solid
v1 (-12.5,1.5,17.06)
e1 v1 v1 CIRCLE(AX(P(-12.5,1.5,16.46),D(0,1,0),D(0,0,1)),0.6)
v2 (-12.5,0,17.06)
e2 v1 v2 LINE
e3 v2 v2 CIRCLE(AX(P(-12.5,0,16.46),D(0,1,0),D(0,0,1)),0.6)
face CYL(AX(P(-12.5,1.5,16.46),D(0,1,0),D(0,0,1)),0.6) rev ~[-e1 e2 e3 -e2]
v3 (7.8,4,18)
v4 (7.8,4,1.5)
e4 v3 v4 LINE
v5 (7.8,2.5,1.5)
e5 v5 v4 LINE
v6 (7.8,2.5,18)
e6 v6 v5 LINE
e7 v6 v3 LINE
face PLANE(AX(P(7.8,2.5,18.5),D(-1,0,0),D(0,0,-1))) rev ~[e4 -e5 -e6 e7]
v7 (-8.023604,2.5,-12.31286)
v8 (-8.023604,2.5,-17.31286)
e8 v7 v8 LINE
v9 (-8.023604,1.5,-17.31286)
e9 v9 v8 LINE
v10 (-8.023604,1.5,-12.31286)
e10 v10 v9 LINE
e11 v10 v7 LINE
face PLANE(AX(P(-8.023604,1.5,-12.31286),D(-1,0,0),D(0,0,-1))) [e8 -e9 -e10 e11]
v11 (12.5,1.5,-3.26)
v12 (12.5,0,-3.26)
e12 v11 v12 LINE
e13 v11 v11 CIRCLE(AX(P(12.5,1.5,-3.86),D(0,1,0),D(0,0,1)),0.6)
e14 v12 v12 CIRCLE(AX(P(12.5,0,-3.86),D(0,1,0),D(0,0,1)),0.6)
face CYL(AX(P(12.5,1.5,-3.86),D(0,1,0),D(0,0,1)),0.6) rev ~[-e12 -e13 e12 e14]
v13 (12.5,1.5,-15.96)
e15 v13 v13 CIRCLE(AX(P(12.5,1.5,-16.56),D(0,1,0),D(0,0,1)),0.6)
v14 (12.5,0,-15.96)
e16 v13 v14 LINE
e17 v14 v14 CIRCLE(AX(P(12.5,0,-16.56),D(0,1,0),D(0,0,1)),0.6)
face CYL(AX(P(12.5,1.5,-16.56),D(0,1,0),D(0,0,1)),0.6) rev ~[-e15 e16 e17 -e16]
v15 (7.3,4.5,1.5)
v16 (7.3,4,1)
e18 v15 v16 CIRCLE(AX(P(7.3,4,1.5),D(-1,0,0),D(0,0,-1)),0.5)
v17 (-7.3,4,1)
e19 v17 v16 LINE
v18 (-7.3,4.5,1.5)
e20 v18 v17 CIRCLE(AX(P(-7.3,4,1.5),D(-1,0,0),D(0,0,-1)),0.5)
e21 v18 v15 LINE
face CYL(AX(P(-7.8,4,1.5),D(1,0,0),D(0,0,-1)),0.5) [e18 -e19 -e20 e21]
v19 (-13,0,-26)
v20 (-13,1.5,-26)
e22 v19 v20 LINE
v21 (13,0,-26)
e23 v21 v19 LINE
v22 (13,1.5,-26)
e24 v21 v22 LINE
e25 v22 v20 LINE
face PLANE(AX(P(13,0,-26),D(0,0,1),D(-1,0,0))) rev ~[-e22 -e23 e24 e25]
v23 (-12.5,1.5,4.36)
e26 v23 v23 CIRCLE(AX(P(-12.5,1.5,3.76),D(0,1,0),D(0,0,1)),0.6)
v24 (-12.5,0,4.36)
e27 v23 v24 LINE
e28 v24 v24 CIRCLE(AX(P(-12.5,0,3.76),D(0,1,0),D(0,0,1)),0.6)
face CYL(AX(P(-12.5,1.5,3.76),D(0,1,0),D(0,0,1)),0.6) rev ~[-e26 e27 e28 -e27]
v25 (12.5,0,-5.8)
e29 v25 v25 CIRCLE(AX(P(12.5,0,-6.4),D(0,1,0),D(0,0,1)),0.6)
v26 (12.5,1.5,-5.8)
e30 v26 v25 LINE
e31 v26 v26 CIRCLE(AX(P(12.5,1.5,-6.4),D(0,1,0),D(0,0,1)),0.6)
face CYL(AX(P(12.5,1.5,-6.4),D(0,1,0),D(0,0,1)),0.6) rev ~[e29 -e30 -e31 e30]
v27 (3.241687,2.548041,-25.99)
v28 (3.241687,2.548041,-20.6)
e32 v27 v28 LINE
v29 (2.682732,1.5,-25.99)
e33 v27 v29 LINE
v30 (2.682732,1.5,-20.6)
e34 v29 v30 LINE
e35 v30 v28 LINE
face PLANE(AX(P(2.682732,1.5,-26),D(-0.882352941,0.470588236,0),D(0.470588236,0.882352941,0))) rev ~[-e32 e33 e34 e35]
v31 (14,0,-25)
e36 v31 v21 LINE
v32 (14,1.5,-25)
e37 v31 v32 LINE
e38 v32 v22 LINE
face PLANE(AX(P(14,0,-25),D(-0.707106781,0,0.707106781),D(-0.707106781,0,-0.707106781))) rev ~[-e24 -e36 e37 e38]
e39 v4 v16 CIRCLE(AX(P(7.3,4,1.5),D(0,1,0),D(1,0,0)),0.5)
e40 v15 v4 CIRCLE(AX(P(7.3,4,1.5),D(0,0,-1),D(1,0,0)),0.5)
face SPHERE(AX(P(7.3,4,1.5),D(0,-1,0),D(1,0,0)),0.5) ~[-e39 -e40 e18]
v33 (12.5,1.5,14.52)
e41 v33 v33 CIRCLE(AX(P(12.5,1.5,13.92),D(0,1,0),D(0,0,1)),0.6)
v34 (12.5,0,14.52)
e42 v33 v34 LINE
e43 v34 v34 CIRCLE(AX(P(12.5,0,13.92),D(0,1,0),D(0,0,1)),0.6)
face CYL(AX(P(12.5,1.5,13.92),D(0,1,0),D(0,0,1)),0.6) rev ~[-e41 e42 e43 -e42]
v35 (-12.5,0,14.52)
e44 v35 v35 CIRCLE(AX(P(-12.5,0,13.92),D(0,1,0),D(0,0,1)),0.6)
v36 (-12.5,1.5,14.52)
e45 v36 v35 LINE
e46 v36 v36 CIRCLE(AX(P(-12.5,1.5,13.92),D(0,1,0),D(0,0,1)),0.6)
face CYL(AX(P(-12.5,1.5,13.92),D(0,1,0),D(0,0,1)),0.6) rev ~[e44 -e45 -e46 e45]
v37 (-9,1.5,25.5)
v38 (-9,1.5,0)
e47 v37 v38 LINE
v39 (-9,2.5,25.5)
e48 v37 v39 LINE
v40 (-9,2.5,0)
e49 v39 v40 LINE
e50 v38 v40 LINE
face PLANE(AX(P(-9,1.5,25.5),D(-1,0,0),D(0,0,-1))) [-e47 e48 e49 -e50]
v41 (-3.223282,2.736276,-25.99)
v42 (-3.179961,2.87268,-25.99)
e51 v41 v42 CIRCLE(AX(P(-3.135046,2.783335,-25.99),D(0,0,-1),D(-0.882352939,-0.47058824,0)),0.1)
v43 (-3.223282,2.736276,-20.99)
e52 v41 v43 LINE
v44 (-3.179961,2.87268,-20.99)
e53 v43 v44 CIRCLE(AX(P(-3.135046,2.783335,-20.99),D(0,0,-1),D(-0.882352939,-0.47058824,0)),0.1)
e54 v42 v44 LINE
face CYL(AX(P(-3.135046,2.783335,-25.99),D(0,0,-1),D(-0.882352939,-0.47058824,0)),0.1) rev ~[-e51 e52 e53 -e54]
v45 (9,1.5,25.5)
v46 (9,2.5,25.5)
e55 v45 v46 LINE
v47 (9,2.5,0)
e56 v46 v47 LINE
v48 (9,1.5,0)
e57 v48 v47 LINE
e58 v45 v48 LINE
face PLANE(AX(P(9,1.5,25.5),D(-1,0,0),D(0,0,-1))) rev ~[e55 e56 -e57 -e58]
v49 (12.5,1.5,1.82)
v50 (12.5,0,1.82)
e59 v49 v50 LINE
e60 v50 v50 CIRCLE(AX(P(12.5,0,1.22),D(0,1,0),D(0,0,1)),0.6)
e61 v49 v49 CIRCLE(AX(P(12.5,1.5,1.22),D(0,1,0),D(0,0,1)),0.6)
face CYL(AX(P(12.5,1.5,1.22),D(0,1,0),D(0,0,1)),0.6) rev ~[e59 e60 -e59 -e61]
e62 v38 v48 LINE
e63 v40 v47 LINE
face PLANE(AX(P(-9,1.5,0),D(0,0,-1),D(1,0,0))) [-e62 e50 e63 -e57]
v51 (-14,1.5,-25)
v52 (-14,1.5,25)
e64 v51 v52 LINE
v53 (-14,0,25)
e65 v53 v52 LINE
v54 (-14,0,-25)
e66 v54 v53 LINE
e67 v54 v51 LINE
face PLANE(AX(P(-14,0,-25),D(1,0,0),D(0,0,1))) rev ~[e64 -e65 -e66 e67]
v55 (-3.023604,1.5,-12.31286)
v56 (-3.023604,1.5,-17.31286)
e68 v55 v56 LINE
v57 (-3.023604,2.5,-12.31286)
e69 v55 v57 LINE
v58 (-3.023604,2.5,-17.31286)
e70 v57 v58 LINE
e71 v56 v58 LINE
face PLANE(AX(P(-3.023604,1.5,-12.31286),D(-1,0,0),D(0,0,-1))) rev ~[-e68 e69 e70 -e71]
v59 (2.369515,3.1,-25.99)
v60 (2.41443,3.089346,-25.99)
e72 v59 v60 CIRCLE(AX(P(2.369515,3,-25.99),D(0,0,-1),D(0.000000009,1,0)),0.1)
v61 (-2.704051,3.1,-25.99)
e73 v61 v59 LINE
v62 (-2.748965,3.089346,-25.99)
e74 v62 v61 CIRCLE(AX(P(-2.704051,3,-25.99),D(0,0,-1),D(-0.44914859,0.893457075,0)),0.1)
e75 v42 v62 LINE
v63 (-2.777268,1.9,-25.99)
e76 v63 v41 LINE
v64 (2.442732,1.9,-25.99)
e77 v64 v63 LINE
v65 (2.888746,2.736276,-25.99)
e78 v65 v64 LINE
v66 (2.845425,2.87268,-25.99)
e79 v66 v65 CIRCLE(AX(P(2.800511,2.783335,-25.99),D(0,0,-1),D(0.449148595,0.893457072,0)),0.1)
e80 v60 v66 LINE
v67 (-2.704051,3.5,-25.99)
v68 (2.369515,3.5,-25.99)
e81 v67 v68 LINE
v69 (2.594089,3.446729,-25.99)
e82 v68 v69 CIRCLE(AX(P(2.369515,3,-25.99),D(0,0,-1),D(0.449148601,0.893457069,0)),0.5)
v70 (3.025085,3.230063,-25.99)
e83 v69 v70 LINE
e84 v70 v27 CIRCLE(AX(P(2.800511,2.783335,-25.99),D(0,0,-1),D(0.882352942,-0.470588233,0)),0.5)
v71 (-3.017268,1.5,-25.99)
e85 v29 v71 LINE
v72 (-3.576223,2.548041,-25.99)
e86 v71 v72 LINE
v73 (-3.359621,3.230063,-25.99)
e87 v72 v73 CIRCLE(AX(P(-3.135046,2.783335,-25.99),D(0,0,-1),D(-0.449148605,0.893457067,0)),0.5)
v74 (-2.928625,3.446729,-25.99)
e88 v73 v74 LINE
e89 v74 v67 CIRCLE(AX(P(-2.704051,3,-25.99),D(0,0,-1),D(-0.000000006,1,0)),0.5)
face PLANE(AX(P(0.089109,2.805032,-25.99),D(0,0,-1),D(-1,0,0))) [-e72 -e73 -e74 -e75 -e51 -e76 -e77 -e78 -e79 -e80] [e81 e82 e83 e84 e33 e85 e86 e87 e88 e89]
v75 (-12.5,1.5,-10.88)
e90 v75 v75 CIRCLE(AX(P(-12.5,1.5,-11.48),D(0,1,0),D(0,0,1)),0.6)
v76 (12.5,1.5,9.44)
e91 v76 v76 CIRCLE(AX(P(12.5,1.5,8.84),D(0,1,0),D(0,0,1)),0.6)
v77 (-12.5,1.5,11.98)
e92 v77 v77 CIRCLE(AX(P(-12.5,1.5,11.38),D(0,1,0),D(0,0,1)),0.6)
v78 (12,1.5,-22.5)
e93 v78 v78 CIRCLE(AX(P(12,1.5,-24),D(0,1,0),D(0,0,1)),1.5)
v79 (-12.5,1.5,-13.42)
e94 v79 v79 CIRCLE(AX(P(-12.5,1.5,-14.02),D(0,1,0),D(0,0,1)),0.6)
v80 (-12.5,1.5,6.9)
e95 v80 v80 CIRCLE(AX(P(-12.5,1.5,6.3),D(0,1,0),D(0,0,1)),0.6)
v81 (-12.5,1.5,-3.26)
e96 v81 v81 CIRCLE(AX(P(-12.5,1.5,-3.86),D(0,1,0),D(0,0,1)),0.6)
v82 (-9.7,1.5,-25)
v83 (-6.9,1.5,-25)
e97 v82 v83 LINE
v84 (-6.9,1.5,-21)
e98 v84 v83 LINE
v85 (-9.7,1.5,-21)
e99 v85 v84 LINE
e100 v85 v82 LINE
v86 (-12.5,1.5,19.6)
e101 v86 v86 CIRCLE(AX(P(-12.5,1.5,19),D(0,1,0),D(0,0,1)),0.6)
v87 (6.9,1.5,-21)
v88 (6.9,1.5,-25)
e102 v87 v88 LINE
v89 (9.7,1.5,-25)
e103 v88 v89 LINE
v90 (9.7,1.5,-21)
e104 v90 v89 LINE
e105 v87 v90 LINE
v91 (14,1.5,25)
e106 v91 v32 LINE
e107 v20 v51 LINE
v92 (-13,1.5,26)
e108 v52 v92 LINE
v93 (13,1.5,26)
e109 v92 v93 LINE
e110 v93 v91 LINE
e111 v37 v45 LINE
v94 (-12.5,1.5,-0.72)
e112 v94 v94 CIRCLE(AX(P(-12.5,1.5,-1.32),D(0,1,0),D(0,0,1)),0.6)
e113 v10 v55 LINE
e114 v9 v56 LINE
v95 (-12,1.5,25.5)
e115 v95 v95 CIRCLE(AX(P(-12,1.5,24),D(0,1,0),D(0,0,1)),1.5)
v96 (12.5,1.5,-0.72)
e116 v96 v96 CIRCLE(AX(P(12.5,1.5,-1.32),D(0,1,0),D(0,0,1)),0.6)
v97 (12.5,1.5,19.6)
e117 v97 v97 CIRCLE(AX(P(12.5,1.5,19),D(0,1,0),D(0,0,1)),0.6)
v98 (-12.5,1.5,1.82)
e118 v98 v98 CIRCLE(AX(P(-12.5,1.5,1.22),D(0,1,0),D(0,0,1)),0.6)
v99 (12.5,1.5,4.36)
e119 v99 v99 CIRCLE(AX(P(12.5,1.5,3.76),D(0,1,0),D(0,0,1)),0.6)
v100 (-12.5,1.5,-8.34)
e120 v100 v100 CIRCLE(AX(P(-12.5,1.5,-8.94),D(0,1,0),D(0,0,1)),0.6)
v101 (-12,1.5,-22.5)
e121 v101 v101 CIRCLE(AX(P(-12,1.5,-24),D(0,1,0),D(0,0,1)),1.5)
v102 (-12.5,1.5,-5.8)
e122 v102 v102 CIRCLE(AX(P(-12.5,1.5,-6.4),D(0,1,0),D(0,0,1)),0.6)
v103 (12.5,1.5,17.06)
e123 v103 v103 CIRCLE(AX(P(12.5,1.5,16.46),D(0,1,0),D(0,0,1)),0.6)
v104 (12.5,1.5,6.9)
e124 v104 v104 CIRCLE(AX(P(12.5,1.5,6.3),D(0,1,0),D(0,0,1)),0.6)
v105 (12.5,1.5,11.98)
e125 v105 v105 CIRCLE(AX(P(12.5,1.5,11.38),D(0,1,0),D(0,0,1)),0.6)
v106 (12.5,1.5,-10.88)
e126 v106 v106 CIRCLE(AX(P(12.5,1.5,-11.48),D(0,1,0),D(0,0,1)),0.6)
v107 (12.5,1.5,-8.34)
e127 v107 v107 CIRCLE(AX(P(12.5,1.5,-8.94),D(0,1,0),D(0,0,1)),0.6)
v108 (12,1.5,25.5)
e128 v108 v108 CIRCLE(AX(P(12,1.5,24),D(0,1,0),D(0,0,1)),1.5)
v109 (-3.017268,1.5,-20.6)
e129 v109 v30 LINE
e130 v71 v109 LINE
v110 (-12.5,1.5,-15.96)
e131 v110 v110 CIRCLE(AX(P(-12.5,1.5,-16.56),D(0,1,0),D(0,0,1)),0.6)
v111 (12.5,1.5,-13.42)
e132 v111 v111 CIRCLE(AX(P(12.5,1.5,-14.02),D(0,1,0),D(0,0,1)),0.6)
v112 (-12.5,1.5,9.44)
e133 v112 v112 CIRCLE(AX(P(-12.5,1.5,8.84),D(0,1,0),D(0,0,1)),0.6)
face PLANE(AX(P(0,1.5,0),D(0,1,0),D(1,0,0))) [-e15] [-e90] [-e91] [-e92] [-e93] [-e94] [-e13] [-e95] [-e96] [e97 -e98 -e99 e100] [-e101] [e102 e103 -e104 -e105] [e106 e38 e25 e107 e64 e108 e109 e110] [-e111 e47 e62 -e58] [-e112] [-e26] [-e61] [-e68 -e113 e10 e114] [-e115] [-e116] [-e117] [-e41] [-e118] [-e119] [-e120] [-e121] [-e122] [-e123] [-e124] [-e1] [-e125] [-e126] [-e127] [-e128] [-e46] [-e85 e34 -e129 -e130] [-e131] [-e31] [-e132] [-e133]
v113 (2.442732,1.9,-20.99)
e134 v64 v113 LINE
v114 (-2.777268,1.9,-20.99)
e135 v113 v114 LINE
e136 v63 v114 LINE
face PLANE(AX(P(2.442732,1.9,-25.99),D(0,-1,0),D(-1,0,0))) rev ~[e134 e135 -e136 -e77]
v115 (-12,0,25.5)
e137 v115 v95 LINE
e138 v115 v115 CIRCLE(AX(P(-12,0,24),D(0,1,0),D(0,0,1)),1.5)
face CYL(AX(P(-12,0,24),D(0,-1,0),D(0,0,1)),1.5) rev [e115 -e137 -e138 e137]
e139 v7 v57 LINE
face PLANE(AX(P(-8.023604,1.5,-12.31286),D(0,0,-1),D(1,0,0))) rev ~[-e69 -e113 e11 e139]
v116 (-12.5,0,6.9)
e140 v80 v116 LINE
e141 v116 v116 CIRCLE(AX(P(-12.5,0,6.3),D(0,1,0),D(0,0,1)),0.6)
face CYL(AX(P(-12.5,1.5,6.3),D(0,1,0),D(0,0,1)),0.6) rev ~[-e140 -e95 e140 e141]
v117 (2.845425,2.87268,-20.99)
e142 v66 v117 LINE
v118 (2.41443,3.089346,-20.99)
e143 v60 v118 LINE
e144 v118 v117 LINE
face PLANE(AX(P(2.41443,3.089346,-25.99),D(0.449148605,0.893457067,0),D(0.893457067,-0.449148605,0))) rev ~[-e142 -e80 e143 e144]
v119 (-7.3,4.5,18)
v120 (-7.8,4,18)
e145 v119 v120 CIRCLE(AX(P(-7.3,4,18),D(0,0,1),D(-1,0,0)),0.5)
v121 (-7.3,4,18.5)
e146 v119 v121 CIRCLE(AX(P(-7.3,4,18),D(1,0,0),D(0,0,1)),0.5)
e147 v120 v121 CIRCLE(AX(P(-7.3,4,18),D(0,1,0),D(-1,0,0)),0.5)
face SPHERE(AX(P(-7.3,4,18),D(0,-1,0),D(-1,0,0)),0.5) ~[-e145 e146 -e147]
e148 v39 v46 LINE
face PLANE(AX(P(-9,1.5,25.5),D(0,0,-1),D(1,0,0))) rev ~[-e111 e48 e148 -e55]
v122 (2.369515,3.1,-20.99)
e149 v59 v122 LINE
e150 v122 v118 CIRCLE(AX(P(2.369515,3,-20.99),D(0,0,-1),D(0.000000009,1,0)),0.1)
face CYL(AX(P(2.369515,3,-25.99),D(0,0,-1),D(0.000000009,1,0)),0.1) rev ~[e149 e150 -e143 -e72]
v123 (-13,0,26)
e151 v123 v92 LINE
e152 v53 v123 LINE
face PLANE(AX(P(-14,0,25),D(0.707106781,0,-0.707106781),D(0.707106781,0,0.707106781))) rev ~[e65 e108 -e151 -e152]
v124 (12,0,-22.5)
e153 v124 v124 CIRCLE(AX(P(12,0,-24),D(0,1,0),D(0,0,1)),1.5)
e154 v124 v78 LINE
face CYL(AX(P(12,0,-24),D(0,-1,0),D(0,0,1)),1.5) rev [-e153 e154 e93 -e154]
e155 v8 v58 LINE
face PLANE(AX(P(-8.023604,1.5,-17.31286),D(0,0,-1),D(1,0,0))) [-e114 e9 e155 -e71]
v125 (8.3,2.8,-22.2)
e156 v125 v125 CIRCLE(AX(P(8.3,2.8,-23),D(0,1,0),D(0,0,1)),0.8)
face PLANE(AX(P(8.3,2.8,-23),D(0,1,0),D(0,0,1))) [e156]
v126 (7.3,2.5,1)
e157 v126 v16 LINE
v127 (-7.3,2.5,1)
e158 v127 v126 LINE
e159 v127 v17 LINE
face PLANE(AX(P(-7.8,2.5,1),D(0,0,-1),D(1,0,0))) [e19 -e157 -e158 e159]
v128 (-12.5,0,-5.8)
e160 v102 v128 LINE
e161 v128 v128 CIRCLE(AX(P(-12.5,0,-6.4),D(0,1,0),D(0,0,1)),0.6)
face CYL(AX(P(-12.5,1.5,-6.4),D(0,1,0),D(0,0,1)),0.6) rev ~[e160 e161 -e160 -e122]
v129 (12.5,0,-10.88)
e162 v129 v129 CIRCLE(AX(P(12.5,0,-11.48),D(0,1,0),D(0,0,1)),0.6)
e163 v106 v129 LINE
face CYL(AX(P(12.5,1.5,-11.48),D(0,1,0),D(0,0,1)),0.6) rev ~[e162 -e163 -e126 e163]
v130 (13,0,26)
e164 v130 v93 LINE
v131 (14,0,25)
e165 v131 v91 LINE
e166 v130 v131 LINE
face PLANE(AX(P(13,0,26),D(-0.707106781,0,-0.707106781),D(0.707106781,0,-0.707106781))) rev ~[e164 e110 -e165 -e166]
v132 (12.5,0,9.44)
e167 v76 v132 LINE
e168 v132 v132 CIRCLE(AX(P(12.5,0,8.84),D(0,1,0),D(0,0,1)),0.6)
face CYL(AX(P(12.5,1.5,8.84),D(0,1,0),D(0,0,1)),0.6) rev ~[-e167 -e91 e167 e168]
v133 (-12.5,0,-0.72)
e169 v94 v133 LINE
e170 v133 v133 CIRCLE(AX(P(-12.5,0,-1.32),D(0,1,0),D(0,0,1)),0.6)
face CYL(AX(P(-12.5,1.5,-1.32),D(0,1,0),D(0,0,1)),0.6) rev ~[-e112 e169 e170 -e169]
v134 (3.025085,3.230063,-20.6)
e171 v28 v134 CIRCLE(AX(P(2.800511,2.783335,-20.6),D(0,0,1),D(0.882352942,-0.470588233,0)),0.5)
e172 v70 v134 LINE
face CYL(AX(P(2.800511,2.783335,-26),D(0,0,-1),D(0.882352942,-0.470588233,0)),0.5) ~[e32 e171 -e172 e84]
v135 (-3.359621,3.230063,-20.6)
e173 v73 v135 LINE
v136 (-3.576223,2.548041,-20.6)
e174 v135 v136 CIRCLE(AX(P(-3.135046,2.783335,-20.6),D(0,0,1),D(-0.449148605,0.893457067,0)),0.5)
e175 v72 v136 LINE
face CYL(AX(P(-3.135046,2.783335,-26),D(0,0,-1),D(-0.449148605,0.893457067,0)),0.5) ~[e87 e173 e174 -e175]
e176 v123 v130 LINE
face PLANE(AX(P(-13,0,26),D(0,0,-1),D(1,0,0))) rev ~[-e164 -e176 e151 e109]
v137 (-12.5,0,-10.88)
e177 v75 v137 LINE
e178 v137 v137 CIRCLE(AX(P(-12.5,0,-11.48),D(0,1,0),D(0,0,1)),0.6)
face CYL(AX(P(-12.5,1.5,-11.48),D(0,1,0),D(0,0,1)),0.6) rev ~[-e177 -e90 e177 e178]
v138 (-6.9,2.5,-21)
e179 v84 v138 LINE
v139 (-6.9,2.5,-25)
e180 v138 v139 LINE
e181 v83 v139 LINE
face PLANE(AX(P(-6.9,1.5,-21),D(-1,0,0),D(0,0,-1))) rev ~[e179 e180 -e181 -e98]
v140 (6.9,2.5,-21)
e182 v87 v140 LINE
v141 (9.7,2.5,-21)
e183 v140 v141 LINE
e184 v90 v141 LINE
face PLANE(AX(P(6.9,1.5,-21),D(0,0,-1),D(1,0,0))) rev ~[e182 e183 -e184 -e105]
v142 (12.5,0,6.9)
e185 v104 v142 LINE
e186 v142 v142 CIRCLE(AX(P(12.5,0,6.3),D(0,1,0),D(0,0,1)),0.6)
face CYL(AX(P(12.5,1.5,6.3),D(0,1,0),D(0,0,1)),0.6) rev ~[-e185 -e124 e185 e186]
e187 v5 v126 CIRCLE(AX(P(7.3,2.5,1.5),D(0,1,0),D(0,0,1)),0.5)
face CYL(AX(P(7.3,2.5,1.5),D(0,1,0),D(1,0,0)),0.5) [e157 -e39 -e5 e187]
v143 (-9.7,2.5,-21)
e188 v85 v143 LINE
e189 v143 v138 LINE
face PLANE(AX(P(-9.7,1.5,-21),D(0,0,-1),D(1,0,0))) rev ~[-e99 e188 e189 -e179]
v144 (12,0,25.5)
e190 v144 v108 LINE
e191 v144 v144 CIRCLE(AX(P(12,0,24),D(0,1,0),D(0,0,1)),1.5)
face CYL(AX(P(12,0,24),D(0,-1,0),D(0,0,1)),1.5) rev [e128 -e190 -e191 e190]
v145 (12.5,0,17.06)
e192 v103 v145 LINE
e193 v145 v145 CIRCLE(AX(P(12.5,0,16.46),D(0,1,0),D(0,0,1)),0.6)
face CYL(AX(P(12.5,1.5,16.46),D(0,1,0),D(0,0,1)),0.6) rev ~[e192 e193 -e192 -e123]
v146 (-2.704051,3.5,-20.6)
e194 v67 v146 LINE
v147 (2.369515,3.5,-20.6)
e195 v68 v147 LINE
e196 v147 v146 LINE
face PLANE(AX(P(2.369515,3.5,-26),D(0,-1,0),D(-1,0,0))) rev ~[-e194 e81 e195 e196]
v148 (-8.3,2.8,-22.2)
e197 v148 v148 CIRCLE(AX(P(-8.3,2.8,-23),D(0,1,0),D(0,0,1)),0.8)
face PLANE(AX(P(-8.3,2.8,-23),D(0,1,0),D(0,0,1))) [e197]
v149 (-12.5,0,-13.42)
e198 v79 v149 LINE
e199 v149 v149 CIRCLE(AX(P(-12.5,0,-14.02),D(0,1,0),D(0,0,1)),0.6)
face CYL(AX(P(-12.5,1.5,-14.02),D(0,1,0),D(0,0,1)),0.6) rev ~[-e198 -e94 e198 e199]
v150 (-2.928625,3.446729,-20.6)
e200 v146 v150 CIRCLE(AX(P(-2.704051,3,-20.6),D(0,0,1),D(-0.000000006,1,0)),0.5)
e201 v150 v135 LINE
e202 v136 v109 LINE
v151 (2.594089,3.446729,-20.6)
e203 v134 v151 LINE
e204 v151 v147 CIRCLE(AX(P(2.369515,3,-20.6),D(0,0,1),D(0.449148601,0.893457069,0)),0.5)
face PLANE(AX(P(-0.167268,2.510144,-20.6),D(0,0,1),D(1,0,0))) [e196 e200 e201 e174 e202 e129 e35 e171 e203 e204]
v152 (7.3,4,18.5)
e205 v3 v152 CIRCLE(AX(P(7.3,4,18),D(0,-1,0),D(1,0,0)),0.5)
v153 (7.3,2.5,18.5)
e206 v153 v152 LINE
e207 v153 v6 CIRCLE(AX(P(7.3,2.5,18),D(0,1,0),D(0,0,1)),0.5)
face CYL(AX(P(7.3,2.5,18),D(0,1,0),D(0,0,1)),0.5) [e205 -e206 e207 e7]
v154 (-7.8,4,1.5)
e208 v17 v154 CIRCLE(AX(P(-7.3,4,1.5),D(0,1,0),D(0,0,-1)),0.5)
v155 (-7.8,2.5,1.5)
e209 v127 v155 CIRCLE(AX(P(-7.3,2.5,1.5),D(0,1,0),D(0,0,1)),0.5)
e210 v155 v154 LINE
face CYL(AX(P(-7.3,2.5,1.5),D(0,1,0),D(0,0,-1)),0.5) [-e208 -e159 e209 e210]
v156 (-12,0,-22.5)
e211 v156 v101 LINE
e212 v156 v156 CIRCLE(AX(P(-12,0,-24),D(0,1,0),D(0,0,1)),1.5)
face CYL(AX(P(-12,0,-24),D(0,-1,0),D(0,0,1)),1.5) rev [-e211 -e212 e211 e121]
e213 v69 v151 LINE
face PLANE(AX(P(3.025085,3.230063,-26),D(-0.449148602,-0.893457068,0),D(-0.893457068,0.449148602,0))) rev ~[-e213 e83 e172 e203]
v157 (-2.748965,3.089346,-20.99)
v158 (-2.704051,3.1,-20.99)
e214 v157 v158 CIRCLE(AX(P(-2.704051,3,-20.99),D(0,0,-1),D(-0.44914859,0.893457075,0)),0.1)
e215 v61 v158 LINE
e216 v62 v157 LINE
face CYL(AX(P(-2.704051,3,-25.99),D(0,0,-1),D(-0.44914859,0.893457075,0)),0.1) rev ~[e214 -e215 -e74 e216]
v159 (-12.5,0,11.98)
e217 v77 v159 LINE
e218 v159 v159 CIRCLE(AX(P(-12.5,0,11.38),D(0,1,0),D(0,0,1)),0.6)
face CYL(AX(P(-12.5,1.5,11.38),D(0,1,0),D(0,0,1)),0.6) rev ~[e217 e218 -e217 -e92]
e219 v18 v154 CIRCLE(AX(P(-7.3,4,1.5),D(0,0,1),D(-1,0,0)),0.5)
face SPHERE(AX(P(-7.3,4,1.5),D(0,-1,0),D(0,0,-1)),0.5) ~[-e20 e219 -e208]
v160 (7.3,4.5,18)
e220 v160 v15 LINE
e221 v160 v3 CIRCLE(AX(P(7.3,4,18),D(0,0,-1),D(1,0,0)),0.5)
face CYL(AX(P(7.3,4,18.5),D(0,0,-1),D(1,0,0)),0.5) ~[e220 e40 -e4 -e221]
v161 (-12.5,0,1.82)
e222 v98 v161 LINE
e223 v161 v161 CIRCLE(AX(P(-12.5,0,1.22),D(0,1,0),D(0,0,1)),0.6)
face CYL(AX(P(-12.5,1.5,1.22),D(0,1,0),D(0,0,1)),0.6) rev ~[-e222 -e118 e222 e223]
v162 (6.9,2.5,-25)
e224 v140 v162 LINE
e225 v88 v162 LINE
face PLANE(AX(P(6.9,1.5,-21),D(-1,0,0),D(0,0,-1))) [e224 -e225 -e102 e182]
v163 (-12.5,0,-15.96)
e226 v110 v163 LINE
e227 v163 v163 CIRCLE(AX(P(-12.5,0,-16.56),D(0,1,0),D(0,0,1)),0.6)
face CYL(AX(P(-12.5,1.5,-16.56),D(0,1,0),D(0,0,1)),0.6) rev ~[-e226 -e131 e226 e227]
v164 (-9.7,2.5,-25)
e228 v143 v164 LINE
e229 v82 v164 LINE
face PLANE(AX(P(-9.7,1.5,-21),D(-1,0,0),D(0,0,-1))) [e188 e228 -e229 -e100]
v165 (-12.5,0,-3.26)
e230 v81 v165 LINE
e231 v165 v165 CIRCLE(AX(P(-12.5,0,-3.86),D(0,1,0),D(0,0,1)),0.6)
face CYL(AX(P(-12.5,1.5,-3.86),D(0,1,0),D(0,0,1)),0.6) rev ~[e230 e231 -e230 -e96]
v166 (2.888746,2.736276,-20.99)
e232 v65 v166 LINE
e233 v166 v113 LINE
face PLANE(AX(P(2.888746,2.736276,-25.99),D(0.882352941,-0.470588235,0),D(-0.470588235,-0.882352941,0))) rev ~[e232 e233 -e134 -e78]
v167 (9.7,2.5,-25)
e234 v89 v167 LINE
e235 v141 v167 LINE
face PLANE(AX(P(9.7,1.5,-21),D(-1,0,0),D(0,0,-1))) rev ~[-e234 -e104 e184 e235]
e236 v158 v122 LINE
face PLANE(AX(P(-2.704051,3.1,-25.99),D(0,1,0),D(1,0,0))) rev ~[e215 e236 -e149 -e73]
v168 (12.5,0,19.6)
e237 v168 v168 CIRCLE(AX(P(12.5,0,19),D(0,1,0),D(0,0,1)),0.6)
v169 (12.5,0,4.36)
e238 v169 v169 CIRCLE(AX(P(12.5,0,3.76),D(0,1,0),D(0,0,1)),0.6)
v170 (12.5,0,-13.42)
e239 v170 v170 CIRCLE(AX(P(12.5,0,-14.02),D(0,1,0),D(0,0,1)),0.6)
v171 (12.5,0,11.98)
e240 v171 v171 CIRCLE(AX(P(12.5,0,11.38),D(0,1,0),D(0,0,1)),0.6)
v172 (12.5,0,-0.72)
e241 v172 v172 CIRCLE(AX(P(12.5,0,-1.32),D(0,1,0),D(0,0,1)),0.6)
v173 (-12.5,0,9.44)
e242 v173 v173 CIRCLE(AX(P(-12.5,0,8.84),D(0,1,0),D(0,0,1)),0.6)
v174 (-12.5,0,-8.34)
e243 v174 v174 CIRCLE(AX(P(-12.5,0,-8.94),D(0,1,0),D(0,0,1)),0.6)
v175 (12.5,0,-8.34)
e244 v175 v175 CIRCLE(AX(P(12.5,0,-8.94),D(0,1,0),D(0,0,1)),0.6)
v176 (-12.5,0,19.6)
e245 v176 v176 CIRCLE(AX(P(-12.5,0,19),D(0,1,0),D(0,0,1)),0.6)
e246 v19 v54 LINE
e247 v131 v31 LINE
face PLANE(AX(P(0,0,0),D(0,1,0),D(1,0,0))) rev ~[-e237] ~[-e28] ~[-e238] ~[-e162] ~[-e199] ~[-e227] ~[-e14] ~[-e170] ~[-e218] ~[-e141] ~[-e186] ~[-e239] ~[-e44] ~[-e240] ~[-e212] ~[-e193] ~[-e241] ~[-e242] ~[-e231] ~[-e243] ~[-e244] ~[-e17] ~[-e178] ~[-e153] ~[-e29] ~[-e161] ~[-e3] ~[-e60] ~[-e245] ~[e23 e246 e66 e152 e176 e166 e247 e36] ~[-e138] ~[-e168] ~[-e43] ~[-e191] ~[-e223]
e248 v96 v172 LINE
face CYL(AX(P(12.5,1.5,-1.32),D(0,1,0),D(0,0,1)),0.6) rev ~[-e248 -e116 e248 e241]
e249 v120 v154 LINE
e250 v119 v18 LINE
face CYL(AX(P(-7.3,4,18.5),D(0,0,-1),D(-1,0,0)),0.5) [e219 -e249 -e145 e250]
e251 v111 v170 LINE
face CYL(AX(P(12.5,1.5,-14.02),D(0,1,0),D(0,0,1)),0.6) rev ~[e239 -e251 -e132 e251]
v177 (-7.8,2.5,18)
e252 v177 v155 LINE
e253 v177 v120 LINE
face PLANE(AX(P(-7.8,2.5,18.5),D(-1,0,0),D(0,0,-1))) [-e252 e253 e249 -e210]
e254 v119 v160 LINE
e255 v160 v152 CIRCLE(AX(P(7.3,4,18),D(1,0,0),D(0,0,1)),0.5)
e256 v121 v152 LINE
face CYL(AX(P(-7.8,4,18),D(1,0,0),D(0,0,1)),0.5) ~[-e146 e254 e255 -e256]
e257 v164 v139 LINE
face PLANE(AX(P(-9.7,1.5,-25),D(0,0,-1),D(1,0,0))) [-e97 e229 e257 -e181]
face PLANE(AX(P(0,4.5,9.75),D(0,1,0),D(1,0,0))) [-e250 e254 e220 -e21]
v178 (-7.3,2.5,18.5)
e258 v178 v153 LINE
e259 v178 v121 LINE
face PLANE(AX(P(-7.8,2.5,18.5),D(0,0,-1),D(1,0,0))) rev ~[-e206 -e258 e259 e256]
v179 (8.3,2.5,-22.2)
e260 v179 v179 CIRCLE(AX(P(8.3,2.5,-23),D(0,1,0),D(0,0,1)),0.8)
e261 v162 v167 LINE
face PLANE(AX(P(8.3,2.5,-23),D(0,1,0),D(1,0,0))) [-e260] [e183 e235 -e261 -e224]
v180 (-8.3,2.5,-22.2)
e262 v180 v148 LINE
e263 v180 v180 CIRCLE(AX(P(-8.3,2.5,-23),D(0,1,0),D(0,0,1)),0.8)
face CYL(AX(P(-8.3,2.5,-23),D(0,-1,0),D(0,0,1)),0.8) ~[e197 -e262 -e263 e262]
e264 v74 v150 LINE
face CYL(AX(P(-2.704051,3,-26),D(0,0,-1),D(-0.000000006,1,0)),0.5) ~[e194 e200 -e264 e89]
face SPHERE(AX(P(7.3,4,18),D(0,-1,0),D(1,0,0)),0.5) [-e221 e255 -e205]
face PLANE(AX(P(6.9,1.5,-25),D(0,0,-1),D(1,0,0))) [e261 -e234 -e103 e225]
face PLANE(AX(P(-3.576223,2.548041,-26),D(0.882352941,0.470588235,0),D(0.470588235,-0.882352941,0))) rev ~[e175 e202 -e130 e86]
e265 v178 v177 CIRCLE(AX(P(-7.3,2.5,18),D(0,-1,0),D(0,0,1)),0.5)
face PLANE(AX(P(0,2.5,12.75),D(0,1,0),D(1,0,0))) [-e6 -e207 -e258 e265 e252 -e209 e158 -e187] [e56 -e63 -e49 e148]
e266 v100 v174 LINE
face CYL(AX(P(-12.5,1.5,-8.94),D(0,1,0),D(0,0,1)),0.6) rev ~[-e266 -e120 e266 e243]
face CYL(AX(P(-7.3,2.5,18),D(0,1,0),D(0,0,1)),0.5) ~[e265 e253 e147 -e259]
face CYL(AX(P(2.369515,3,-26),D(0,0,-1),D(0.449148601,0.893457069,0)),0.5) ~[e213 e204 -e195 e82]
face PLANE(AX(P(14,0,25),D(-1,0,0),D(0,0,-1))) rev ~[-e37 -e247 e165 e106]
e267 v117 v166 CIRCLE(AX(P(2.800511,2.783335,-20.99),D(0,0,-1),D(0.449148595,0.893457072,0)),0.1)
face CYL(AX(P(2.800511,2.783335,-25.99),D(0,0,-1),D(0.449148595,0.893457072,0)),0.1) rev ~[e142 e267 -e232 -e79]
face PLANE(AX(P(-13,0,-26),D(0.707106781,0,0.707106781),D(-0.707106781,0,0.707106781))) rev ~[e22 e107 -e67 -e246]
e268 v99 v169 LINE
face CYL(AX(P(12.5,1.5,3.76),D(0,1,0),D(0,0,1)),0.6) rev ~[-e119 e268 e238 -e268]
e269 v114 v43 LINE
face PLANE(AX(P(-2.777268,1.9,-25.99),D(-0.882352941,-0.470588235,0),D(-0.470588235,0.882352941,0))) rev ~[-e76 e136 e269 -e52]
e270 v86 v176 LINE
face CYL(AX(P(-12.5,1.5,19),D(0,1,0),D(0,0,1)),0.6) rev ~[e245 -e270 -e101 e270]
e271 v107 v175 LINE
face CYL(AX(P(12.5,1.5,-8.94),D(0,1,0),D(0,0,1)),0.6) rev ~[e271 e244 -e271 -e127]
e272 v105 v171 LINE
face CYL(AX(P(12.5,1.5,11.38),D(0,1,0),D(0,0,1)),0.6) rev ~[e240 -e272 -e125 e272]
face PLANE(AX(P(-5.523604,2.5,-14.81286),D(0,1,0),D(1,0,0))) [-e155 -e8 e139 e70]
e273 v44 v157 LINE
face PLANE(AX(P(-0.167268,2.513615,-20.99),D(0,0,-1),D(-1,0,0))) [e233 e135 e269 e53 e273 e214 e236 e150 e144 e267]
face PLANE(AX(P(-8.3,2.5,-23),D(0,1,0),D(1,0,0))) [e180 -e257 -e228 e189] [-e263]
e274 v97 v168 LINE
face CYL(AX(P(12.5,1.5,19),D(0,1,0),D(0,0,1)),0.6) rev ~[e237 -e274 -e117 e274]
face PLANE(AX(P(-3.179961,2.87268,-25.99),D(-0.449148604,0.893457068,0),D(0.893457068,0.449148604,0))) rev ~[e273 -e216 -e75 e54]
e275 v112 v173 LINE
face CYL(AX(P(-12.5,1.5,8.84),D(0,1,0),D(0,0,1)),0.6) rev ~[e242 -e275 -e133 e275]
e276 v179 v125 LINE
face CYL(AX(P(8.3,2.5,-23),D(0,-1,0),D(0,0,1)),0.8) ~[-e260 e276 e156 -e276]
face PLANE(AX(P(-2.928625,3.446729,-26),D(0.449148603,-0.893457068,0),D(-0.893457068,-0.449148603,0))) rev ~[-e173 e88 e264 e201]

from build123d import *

# Parameters (mm, degrees)
ESBO_O2_R                = 1.5
RESSALTO_EXTRUS_O1_DEPTH = 1.5
ESBO_O3_W                = 18
ESBO_O3_H                = 25.5
RESSALTO_EXTRUS_O2_DEPTH = 1
ESBO_O4_W                = 15.6
ESBO_O4_H                = 17.5
RESSALTO_EXTRUS_O3_DEPTH = 2
ESBO_O5_W                = 5
ESBO_O5_H                = 5
ESBO_O5_W_2              = 2.8
ESBO_O5_H_2              = 4
RESSALTO_EXTRUS_O4_DEPTH = 1
ESBO_O6_R                = 0.8
RESSALTO_EXTRUS_O5_DEPTH = 0.3
RESSALTO_EXTRUS_O6_DEPTH = 5.4
ESBO_O8_W                = 7.643027542
ESBO_O8_H                = 2.610064774
CORTE_EXTRUS_O1_DEPTH    = 0.01
CORTE_EXTRUS_O2_DEPTH    = 5
ESBO_O11_R               = 0.6
CORTE_EXTRUS_O3_DEPTH    = 5
FILETE1_R                = 0.5


with BuildPart() as part:
    # Esboço2 → Ressalto-extrusão1 (new body)
    with BuildSketch(Plane(origin=(0, 0, 0), x_dir=(1, 0, 0), z_dir=(0, 1, 0))):
        Polygon((-14, -25), (-13, -26), (13, -26), (14, -25), (14, 25), (13, 26), (-13, 26), (-14, 25), align=None)
        with Locations(Location((-12, 24, 0), (0, 0, 270))):
            Circle(ESBO_O2_R, mode=Mode.SUBTRACT)
        with Locations(Location((12, 24, 0), (0, 0, 270))):
            Circle(ESBO_O2_R, mode=Mode.SUBTRACT)
        with Locations(Location((-12, -24, 0), (0, 0, 270))):
            Circle(ESBO_O2_R, mode=Mode.SUBTRACT)
        with Locations(Location((12, -24, 0), (0, 0, 270))):
            Circle(ESBO_O2_R, mode=Mode.SUBTRACT)
    extrude(amount=RESSALTO_EXTRUS_O1_DEPTH)

    # Esboço3 → Ressalto-extrusão2 (add)
    with BuildSketch(Plane(origin=(0, 1.5, 0), x_dir=(1, 0, 0), z_dir=(0, 1, 0))):
        with Locations((0, -12.75)):
            Rectangle(ESBO_O3_W, ESBO_O3_H)
    extrude(amount=RESSALTO_EXTRUS_O2_DEPTH)

    # Esboço4 → Ressalto-extrusão3 (add)
    with BuildSketch(Plane(origin=(0, 2.5, 0), x_dir=(1, 0, 0), z_dir=(0, 1, 0))):
        with Locations((0, -9.75)):
            Rectangle(ESBO_O4_W, ESBO_O4_H)
    extrude(amount=RESSALTO_EXTRUS_O3_DEPTH)

    # Esboço5 → Ressalto-extrusão4 (add)
    with BuildSketch(Plane(origin=(0, 1.5, 0), x_dir=(1, 0, 0), z_dir=(0, 1, 0))):
        with Locations((-5.523603775, 14.812859986)):
            Rectangle(ESBO_O5_W, ESBO_O5_H)
        with Locations((-8.3, 23)):
            Rectangle(ESBO_O5_W_2, ESBO_O5_H_2)
        with Locations((8.3, 23)):
            Rectangle(ESBO_O5_W_2, ESBO_O5_H_2)
    extrude(amount=RESSALTO_EXTRUS_O4_DEPTH)

    # Esboço6 → Ressalto-extrusão5 (add)
    with BuildSketch(Plane(origin=(0, 2.5, 0), x_dir=(1, 0, 0), z_dir=(0, 1, 0))):
        with Locations(Location((-8.3, 23, 0), (0, 0, 270))):
            Circle(ESBO_O6_R)
        with Locations(Location((8.3, 23, 0), (0, 0, 270))):
            Circle(ESBO_O6_R)
    extrude(amount=RESSALTO_EXTRUS_O5_DEPTH)

    # Esboço7 → Ressalto-extrusão6 (add)
    with BuildSketch(Plane(origin=(0, 0, -26), x_dir=(-1, 0, 0), z_dir=(0, 0, -1))):
        with BuildLine():
            Line((3.017267899, 1.5), (-2.682732101, 1.5))
            Line((-2.682732101, 1.5), (-3.241687067, 2.54804056))
            ThreePointArc((-3.241687067, 2.54804056), (-3.277055187, 2.934679492), (-3.025084898, 3.230063212))
            Line((-3.025084898, 3.230063212), (-2.594089093, 3.446728534))
            ThreePointArc((-2.594089093, 3.446728534), (-2.484917853, 3.48649988), (-2.369514792, 3.5))
            Line((-2.369514792, 3.5), (2.704050589, 3.5))
            ThreePointArc((2.704050589, 3.5), (2.81945365, 3.48649988), (2.928624891, 3.446728534))
            Line((2.928624891, 3.446728534), (3.359620695, 3.230063212))
            ThreePointArc((3.359620695, 3.230063212), (3.611590984, 2.934679492), (3.576222864, 2.54804056))
            Line((3.576222864, 2.54804056), (3.017267899, 1.5))
        make_face()
    extrude(amount=-RESSALTO_EXTRUS_O6_DEPTH)

    # Esboço8 → Corte-extrusão1 (cut)
    with BuildSketch(Plane(origin=(0, 0, -26), x_dir=(-1, 0, 0), z_dir=(0, 0, -1))):
        with Locations((-0.089109416, 2.805032387)):
            Rectangle(ESBO_O8_W, ESBO_O8_H)
    extrude(amount=-CORTE_EXTRUS_O1_DEPTH, mode=Mode.SUBTRACT)

    # Esboço10 → Corte-extrusão2 (cut)
    with BuildSketch(Plane(origin=(0, 0, -25.99), x_dir=(-1, 0, 0), z_dir=(0, 0, -1))):
        with BuildLine():
            Line((2.704050589, 3.1), (-2.369514792, 3.1))
            ThreePointArc((-2.369514792, 3.1), (-2.392595404, 3.097299976), (-2.414429652, 3.089345707))
            Line((-2.414429652, 3.089345707), (-2.845425456, 2.872680384))
            ThreePointArc((-2.845425456, 2.872680384), (-2.895819514, 2.813603641), (-2.88874589, 2.736275854))
            Line((-2.88874589, 2.736275854), (-2.442732101, 1.9))
            Line((-2.442732101, 1.9), (2.777267899, 1.9))
            Line((2.777267899, 1.9), (3.223281688, 2.736275854))
            ThreePointArc((3.223281688, 2.736275854), (3.230355312, 2.813603641), (3.179961254, 2.872680384))
            Line((3.179961254, 2.872680384), (2.748965449, 3.089345707))
            ThreePointArc((2.748965449, 3.089345707), (2.727131201, 3.097299976), (2.704050589, 3.1))
        make_face()
    extrude(amount=-CORTE_EXTRUS_O2_DEPTH, mode=Mode.SUBTRACT)

    # Esboço11 → Corte-extrusão3 (cut)
    with BuildSketch(Plane(origin=(0, 1.5, 0), x_dir=(1, 0, 0), z_dir=(0, 1, 0))):
        with Locations(Location((-12.5, 16.56, 0), (0, 0, 270))):
            Circle(ESBO_O11_R)
        with Locations(Location((-12.5, 14.02, 0), (0, 0, 270))):
            Circle(ESBO_O11_R)
        with Locations(Location((-12.5, 11.48, 0), (0, 0, 270))):
            Circle(ESBO_O11_R)
        with Locations(Location((-12.5, 8.94, 0), (0, 0, 270))):
            Circle(ESBO_O11_R)
        with Locations(Location((-12.5, 6.4, 0), (0, 0, 270))):
            Circle(ESBO_O11_R)
        with Locations(Location((-12.5, 3.86, 0), (0, 0, 270))):
            Circle(ESBO_O11_R)
        with Locations(Location((-12.5, 1.32, 0), (0, 0, 270))):
            Circle(ESBO_O11_R)
        with Locations(Location((-12.5, -1.22, 0), (0, 0, 270))):
            Circle(ESBO_O11_R)
        with Locations(Location((-12.5, -3.76, 0), (0, 0, 270))):
            Circle(ESBO_O11_R)
        with Locations(Location((-12.5, -6.3, 0), (0, 0, 270))):
            Circle(ESBO_O11_R)
        with Locations(Location((-12.5, -8.84, 0), (0, 0, 270))):
            Circle(ESBO_O11_R)
        with Locations(Location((-12.5, -11.38, 0), (0, 0, 270))):
            Circle(ESBO_O11_R)
        with Locations(Location((-12.5, -13.92, 0), (0, 0, 270))):
            Circle(ESBO_O11_R)
        with Locations(Location((-12.5, -16.46, 0), (0, 0, 270))):
            Circle(ESBO_O11_R)
        with Locations(Location((-12.5, -19, 0), (0, 0, 270))):
            Circle(ESBO_O11_R)
        with Locations(Location((12.5, -19, 0), (0, 0, 270))):
            Circle(ESBO_O11_R)
        with Locations(Location((12.5, -16.46, 0), (0, 0, 270))):
            Circle(ESBO_O11_R)
        with Locations(Location((12.5, -13.92, 0), (0, 0, 270))):
            Circle(ESBO_O11_R)
        with Locations(Location((12.5, -11.38, 0), (0, 0, 270))):
            Circle(ESBO_O11_R)
        with Locations(Location((12.5, -8.84, 0), (0, 0, 270))):
            Circle(ESBO_O11_R)
        with Locations(Location((12.5, -6.3, 0), (0, 0, 270))):
            Circle(ESBO_O11_R)
        with Locations(Location((12.5, -3.76, 0), (0, 0, 270))):
            Circle(ESBO_O11_R)
        with Locations(Location((12.5, -1.22, 0), (0, 0, 270))):
            Circle(ESBO_O11_R)
        with Locations(Location((12.5, 1.32, 0), (0, 0, 270))):
            Circle(ESBO_O11_R)
        with Locations(Location((12.5, 3.86, 0), (0, 0, 270))):
            Circle(ESBO_O11_R)
        with Locations(Location((12.5, 6.4, 0), (0, 0, 270))):
            Circle(ESBO_O11_R)
        with Locations(Location((12.5, 8.94, 0), (0, 0, 270))):
            Circle(ESBO_O11_R)
        with Locations(Location((12.5, 11.48, 0), (0, 0, 270))):
            Circle(ESBO_O11_R)
        with Locations(Location((12.5, 14.02, 0), (0, 0, 270))):
            Circle(ESBO_O11_R)
        with Locations(Location((12.5, 16.56, 0), (0, 0, 270))):
            Circle(ESBO_O11_R)
    extrude(amount=-CORTE_EXTRUS_O3_DEPTH, mode=Mode.SUBTRACT)

    # Filete1
    filete1_edges = [part.edges().sort_by_distance(p)[0] for p in [
        (7.8, 3.5, 18.5),
        (7.8, 3.5, 1),
        (-7.8, 3.5, 1),
        (-7.8, 3.5, 18.5),
        (7.8, 4.5, 9.75),
        (0, 4.5, 1),
        (-7.8, 4.5, 9.75),
        (0, 4.5, 18.5),
    ]]
    fillet(filete1_edges, radius=FILETE1_R)


solid = part.part
